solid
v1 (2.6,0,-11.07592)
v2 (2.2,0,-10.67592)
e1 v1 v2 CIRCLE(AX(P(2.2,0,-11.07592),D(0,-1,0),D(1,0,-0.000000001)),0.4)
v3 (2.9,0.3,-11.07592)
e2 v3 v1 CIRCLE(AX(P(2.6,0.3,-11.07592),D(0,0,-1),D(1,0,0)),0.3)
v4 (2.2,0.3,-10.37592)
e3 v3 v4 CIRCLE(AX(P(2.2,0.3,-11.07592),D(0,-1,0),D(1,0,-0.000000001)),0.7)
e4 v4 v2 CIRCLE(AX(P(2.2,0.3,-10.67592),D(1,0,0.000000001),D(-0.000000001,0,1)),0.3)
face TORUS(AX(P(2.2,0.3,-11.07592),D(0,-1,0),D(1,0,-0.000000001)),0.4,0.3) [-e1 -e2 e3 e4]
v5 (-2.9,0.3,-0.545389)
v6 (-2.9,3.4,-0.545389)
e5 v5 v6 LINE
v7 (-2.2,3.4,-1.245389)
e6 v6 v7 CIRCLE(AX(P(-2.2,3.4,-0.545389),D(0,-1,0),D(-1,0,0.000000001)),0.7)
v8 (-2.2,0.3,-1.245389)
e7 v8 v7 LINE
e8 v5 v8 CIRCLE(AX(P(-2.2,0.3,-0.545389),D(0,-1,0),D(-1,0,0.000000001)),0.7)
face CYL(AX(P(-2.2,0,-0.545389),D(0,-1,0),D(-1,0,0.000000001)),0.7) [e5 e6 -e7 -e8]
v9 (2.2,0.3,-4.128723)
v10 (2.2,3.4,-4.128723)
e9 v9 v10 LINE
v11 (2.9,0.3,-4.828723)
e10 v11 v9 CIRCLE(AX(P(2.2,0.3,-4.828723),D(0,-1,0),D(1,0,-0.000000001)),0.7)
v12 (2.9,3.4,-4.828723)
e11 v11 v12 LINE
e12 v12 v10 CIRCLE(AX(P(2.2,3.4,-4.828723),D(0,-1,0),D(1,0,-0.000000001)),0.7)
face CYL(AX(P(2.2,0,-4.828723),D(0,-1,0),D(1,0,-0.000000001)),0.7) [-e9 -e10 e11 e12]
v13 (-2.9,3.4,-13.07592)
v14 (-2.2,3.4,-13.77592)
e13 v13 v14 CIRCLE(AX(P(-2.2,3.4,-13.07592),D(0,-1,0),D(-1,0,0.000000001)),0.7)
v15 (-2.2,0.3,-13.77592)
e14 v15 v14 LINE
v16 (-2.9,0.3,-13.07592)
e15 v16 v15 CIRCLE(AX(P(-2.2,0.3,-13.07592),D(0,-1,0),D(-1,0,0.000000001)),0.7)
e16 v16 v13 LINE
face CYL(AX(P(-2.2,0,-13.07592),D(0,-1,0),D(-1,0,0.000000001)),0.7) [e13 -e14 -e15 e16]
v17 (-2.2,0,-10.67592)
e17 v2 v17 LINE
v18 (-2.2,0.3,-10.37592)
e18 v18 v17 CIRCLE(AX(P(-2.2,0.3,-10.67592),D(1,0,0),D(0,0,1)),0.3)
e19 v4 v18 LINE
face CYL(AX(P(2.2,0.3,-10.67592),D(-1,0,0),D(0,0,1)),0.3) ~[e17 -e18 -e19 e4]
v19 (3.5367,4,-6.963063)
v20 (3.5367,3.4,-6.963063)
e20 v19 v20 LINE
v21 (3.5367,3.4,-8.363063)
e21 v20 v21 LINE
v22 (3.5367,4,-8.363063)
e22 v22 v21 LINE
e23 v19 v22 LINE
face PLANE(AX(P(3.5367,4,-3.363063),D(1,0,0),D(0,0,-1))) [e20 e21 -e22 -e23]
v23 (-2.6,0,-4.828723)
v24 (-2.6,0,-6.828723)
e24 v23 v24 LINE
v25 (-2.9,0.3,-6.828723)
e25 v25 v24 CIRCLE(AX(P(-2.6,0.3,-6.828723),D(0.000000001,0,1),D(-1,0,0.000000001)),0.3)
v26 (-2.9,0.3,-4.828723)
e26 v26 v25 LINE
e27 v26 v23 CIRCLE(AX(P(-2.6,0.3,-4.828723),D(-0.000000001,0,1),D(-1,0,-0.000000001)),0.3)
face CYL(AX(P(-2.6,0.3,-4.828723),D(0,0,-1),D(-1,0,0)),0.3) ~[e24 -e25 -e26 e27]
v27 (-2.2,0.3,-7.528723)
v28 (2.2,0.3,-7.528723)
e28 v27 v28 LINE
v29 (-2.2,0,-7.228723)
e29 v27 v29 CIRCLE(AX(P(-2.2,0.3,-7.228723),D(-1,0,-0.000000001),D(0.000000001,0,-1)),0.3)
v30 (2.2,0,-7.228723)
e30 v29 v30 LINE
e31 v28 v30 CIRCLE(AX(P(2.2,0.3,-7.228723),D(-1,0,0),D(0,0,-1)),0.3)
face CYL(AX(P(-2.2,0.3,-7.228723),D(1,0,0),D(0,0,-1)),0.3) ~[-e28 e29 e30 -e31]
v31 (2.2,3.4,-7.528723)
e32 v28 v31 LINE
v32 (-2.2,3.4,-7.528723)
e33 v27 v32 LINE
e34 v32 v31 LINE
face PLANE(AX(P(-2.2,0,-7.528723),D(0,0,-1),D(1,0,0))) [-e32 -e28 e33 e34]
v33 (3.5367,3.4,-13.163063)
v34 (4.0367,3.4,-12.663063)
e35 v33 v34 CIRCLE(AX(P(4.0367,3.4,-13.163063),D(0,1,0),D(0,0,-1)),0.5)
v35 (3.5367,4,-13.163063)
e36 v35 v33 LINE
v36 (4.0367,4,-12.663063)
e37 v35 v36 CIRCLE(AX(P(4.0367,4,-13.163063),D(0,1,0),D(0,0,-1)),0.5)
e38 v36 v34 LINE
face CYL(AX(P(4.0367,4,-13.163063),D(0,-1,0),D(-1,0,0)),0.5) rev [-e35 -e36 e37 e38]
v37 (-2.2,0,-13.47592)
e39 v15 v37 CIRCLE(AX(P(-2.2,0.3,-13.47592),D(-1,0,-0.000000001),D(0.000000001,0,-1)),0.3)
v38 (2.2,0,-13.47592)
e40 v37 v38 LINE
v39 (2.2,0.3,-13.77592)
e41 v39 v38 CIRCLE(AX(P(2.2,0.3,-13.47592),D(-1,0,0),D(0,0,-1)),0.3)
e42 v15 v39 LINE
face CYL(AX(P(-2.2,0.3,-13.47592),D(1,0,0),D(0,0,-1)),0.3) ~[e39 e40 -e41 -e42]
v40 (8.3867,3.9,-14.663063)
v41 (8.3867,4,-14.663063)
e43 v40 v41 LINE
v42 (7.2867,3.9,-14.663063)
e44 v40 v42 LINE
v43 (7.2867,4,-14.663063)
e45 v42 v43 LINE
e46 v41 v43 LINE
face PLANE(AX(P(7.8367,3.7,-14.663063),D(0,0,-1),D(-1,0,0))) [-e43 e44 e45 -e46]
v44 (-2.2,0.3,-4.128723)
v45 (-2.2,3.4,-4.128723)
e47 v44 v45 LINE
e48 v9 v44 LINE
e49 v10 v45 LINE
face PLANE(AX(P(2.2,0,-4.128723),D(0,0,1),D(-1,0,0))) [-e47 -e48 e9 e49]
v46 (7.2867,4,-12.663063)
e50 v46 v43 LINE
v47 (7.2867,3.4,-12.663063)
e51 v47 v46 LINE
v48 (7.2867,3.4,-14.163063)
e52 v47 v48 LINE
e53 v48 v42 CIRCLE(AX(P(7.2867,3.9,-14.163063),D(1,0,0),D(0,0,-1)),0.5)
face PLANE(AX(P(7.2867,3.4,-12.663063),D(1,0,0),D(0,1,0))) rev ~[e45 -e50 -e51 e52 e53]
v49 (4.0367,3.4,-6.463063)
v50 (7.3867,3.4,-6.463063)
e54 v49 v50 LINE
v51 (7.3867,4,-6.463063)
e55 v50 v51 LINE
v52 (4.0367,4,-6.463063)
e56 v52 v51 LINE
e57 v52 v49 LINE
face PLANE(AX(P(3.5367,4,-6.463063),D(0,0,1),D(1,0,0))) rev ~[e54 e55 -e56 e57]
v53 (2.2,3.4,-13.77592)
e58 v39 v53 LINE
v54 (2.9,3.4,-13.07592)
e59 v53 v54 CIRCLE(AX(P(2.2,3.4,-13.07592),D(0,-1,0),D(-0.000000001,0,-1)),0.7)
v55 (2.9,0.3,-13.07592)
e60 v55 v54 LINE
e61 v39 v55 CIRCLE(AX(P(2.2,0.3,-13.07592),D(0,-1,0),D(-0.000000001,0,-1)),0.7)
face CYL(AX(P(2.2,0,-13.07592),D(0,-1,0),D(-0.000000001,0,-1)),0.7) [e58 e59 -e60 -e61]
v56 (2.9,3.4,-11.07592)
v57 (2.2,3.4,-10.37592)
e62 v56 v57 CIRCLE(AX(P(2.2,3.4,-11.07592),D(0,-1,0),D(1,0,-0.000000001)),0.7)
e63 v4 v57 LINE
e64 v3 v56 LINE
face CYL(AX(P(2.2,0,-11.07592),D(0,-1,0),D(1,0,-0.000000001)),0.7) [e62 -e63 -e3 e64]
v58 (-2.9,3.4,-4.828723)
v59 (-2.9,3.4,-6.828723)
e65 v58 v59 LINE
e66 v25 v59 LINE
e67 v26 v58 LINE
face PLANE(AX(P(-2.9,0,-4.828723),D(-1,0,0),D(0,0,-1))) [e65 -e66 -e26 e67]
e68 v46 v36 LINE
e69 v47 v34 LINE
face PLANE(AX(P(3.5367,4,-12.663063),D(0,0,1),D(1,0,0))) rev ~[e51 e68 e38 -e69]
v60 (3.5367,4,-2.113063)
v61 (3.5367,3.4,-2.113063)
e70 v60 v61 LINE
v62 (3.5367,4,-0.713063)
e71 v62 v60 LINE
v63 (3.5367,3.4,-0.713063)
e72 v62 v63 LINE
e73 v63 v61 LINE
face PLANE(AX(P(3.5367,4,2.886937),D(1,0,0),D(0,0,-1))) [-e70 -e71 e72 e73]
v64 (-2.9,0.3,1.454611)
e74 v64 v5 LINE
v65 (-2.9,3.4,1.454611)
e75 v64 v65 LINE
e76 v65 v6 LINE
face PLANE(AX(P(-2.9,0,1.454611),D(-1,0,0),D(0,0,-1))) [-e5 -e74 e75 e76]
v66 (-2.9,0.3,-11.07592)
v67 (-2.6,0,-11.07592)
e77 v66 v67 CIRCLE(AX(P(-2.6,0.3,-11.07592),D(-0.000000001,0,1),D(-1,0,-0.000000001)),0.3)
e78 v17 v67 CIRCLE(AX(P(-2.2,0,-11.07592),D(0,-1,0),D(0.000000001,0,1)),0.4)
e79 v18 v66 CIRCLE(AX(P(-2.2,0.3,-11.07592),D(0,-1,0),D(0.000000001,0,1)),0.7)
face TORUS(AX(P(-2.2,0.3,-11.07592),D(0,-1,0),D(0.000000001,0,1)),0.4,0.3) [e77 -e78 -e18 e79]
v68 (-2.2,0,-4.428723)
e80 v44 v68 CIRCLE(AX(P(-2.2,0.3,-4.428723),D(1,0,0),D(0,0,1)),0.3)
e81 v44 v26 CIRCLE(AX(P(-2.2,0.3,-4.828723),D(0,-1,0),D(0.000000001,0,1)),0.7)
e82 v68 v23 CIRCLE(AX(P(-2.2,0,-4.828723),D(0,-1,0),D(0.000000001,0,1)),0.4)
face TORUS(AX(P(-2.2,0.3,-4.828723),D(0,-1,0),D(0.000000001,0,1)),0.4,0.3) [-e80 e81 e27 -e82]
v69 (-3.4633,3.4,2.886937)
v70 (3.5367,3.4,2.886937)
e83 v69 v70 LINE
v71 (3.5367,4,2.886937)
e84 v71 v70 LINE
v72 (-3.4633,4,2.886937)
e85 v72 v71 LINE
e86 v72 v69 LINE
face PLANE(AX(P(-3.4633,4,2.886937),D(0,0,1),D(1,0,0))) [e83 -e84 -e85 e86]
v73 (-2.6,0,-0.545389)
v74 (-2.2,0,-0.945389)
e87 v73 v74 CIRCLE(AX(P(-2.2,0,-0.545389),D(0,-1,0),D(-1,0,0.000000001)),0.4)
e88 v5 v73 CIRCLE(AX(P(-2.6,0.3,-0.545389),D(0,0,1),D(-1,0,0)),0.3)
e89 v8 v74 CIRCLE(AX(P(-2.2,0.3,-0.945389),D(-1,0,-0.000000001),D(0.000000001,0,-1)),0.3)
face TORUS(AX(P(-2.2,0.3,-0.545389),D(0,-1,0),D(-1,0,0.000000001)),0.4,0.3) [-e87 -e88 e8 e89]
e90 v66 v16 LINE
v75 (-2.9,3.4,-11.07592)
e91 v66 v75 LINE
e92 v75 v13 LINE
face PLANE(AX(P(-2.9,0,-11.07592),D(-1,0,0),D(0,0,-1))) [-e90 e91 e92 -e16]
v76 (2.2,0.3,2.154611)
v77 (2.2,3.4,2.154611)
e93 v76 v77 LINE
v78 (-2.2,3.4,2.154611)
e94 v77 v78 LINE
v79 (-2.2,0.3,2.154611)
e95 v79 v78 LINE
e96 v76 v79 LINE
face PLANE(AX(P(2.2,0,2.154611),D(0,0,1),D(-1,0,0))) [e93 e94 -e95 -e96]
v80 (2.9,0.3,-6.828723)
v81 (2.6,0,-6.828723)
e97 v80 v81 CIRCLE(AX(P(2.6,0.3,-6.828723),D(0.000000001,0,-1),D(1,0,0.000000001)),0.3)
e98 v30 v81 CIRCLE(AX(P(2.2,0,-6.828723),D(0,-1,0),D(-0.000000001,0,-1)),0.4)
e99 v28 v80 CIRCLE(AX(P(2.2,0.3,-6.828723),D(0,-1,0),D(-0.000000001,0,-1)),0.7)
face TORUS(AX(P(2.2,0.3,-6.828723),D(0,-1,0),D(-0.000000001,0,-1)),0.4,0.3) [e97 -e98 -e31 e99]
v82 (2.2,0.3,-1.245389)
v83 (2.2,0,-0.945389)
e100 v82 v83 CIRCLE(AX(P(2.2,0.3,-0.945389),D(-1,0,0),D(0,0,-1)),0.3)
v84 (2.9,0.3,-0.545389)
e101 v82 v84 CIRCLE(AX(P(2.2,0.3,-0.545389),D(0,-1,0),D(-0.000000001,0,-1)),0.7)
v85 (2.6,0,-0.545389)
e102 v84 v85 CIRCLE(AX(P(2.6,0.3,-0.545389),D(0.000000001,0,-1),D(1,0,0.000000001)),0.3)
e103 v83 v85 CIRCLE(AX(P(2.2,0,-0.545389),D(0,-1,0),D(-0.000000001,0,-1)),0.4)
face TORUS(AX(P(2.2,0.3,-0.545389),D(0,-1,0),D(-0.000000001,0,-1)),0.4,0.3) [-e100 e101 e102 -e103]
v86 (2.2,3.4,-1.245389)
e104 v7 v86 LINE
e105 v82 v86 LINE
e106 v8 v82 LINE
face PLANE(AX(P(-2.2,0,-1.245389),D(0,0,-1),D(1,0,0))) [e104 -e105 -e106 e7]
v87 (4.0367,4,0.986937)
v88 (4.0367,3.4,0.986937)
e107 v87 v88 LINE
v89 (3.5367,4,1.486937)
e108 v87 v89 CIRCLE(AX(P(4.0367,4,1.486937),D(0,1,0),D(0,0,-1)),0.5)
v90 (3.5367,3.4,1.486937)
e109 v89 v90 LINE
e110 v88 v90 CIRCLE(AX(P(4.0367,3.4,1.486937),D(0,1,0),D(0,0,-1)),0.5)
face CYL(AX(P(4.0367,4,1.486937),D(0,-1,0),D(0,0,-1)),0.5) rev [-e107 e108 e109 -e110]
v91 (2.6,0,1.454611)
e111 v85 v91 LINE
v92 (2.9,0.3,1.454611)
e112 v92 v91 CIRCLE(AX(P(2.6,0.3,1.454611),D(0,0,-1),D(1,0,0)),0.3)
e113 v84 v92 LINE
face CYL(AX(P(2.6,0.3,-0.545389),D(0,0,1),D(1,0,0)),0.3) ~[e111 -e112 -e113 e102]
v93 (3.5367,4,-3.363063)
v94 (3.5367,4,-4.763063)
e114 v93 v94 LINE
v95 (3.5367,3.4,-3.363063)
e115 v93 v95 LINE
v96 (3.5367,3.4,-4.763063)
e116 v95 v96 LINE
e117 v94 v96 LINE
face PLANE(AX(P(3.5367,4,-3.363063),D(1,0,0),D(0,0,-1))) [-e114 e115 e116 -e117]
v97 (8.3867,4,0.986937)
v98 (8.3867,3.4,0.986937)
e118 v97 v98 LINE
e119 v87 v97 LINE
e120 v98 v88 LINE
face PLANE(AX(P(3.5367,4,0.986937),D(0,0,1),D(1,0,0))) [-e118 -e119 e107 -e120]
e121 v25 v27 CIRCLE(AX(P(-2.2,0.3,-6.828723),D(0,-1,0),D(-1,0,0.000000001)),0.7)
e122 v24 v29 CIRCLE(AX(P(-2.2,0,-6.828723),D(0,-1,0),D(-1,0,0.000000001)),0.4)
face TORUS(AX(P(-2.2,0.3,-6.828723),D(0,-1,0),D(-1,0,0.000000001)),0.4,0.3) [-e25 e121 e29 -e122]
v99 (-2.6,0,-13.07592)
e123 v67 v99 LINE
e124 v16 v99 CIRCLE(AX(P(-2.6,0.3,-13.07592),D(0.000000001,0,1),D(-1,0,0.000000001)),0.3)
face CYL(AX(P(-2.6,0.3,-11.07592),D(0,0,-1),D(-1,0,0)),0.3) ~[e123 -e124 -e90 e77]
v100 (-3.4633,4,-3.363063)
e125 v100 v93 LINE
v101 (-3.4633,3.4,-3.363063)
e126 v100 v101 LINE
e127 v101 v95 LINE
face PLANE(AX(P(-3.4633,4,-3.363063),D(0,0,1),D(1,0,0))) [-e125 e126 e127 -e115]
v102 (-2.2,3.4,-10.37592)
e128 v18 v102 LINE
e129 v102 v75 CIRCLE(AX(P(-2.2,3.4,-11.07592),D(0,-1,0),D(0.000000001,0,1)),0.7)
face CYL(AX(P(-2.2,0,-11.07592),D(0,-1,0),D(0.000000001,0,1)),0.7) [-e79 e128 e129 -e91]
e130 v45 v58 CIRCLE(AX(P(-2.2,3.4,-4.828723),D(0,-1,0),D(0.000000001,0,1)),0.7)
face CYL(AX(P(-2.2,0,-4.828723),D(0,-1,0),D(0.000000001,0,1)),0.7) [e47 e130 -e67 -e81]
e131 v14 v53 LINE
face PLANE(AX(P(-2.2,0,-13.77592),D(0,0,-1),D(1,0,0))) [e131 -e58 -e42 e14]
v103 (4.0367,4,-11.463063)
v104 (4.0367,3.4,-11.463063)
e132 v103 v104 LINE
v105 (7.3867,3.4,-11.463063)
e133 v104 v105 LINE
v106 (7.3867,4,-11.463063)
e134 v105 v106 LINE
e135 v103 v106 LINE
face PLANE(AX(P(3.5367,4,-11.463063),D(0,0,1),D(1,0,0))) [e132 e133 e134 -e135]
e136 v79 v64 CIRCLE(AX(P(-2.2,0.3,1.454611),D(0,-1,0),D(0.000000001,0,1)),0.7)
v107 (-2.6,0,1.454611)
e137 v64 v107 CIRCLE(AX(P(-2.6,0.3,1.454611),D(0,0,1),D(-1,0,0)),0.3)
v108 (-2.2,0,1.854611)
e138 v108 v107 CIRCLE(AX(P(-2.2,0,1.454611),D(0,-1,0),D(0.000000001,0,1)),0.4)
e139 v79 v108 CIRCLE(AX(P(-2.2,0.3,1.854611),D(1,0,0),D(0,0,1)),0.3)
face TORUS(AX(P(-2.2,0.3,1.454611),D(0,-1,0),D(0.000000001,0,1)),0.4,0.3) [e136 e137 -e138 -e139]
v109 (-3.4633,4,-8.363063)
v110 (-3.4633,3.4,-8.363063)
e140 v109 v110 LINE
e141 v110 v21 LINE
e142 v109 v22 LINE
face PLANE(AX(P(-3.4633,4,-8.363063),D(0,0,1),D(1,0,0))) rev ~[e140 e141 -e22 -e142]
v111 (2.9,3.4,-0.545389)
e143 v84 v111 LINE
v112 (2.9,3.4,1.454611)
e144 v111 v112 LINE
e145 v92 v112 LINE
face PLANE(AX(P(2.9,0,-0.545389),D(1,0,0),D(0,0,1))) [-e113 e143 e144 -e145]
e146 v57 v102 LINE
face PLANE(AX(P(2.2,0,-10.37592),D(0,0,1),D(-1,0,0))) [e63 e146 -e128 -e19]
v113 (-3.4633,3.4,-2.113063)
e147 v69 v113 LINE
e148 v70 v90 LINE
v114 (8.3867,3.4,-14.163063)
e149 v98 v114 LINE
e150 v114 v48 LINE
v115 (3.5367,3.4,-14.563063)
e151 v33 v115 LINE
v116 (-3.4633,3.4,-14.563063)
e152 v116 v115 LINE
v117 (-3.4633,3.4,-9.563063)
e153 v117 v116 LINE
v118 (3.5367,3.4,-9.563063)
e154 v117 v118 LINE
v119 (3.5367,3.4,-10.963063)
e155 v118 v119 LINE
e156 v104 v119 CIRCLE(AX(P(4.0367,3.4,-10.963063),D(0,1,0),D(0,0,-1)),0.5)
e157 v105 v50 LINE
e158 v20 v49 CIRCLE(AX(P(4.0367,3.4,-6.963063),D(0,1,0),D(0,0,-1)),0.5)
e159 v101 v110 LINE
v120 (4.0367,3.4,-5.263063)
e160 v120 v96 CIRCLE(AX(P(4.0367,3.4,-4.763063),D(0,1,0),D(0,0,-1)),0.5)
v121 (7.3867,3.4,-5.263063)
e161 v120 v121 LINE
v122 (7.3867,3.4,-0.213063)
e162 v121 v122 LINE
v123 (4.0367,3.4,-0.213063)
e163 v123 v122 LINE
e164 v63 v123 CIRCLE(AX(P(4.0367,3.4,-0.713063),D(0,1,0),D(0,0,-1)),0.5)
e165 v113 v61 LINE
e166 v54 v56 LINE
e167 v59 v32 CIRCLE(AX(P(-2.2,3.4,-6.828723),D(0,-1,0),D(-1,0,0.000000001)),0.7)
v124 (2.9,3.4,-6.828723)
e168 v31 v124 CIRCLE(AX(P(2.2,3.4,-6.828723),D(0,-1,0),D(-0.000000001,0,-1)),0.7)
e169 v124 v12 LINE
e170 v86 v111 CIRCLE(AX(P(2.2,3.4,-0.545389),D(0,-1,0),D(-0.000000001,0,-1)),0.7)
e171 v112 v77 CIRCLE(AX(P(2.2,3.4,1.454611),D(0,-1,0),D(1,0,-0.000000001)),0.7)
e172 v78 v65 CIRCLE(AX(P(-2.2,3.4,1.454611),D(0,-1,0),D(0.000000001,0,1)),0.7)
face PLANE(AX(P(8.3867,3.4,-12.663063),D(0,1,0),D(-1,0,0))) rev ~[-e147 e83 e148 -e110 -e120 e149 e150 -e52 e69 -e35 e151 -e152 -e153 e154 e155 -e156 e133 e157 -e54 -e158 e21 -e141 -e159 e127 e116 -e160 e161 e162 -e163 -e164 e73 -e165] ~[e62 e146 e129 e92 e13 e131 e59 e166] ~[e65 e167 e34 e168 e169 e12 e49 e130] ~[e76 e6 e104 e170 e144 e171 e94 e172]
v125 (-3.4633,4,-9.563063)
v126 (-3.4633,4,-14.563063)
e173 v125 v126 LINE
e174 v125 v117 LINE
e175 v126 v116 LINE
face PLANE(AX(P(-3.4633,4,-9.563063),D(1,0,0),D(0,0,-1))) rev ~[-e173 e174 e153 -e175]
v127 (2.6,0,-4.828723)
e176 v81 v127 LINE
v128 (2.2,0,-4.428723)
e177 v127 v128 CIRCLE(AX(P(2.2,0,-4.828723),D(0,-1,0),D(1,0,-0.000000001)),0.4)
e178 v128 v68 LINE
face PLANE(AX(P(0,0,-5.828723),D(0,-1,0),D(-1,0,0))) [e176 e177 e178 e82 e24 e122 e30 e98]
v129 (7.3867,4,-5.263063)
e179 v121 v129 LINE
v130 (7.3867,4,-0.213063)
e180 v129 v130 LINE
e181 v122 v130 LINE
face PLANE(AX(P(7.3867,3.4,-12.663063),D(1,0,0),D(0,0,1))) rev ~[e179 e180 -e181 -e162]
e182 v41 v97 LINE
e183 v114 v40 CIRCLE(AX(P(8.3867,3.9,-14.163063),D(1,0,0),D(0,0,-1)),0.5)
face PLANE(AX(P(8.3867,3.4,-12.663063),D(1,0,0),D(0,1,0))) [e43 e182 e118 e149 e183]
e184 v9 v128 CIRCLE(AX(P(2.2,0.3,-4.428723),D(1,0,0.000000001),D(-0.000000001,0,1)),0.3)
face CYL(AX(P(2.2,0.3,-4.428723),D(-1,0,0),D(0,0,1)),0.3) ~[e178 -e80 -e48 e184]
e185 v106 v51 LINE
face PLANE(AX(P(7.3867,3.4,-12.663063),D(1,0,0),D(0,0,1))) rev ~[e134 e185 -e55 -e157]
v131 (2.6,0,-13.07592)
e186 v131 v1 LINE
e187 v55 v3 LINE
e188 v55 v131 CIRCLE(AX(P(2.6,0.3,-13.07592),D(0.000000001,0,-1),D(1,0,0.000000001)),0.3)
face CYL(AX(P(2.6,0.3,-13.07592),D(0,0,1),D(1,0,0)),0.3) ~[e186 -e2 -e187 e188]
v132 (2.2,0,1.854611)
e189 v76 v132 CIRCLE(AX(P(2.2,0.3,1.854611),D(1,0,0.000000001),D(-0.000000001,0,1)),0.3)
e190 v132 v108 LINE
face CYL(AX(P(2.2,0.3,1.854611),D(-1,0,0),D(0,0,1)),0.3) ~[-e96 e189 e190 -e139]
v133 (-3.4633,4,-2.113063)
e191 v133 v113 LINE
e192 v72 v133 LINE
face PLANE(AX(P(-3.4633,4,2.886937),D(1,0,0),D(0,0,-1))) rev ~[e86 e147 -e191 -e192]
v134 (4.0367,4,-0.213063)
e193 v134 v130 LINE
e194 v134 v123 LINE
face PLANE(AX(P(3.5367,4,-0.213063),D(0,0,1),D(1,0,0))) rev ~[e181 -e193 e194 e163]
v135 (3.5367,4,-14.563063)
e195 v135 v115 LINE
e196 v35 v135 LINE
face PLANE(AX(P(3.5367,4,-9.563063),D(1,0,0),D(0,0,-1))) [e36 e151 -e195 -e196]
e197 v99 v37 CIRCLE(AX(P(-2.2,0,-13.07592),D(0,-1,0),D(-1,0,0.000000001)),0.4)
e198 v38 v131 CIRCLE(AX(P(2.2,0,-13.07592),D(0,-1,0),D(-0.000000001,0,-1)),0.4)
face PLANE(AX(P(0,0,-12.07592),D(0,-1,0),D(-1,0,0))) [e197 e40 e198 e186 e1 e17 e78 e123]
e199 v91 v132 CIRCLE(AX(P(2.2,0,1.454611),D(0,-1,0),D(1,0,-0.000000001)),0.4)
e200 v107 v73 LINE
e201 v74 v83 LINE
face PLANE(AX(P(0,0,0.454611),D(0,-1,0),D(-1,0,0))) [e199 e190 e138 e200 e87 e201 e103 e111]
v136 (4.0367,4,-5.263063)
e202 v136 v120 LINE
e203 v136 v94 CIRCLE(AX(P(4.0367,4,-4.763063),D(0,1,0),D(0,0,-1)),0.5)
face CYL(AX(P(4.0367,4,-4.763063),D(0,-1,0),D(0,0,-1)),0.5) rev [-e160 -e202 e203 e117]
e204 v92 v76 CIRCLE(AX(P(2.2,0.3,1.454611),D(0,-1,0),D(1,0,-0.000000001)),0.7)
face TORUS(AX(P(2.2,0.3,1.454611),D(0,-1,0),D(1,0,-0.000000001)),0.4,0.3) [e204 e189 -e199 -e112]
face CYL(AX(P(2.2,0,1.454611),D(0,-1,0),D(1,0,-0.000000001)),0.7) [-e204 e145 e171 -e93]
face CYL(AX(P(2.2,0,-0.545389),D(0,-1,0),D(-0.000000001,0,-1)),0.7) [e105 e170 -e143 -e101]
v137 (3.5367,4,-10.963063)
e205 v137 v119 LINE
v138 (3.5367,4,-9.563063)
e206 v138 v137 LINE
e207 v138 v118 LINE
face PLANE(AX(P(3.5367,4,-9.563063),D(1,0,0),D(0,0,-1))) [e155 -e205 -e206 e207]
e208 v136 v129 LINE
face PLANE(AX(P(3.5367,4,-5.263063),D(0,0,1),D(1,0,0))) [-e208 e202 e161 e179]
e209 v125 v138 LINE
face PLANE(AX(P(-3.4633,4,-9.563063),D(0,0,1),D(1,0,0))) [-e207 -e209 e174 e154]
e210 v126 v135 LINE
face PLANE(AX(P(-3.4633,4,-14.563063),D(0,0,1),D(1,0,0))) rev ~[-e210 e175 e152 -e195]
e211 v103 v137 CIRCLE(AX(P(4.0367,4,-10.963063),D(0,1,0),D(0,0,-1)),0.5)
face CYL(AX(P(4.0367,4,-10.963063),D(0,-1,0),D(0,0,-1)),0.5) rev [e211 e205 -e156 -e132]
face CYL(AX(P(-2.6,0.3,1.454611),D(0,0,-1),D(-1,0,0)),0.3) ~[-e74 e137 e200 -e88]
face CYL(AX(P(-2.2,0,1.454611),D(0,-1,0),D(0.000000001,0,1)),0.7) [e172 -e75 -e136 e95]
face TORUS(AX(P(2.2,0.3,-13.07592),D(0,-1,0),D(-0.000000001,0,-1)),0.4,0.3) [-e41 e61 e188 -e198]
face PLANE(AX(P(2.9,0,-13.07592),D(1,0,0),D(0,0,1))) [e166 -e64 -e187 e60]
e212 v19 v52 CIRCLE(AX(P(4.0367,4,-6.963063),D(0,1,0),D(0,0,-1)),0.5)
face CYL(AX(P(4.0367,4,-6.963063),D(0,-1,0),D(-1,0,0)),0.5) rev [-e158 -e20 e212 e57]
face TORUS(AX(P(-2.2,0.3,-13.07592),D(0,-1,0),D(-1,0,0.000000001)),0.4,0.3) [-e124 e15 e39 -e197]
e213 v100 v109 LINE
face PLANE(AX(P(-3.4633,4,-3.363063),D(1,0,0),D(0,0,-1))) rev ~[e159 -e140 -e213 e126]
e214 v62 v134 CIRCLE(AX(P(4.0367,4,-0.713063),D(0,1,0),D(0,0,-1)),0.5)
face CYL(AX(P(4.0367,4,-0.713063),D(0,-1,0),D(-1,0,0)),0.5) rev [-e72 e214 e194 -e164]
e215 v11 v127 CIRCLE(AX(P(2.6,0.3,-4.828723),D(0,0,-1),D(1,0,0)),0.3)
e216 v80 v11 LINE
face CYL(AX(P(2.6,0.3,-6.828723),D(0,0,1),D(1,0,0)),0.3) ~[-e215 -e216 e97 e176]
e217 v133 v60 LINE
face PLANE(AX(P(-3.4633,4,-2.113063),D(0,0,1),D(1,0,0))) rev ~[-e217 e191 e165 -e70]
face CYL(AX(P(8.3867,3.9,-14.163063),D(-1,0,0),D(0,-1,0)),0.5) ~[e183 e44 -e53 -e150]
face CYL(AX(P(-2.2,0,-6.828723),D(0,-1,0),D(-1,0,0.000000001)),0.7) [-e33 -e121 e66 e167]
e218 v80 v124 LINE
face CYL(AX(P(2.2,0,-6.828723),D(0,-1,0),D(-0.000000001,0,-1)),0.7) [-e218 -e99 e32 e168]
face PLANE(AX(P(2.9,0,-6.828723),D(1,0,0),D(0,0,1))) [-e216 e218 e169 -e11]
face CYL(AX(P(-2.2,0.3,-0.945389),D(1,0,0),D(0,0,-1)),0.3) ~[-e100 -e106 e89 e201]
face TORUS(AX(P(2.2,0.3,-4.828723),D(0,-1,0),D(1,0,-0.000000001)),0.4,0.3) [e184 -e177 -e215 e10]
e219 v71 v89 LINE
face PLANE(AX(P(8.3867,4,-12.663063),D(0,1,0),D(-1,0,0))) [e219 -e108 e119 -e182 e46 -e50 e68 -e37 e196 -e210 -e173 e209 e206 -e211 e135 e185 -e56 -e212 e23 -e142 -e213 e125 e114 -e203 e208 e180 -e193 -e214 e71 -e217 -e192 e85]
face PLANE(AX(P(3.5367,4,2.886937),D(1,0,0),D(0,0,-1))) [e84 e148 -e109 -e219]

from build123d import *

# Parameters (mm, degrees)
EXTRUDE_1_DEPTH   = 4
EXTRUDE_1_2_DEPTH = 4
EXTRUDE_1_3_DEPTH = 4
SKETCH_2_W        = 7
SKETCH_2_H        = 5
EXTRUDE_2_DEPTH   = 0.6
SKETCH_3_W        = 4.85
SKETCH_3_H        = 1.2
EXTRUDE_3_DEPTH   = 0.6
SKETCH_4_W        = 1
SKETCH_4_H        = 13.65
EXTRUDE_4_DEPTH   = 0.6
FILLET_1_R        = 0.5
FILLET_2_R        = 0.3
SKETCH_5_W        = 1.1
SKETCH_5_H        = 0.6
EXTRUDE_5_DEPTH   = 2
FILLET_3_R        = 0.5


with BuildPart() as part:
    # 草图1 → 凸台-拉伸1 (new body)
    with BuildSketch(Plane(origin=(0, 0, 0), x_dir=(1, 0, 0), z_dir=(0, 1, 0))):
        with BuildLine():
            Line((-2.2, 1.245389122), (2.2, 1.245389122))
            ThreePointArc((2.2, 1.245389122), (2.694974747, 1.040363869), (2.9, 0.545389122))
            Line((2.9, 0.545389122), (2.9, -1.454610878))
            ThreePointArc((2.9, -1.454610878), (2.694974747, -1.949585625), (2.2, -2.154610878))
            Line((2.2, -2.154610878), (-2.2, -2.154610878))
            ThreePointArc((-2.2, -2.154610878), (-2.694974747, -1.949585625), (-2.9, -1.454610878))
            Line((-2.9, -1.454610878), (-2.9, 0.545389122))
            ThreePointArc((-2.9, 0.545389122), (-2.694974747, 1.040363869), (-2.2, 1.245389122))
        make_face()
    extrude(amount=EXTRUDE_1_DEPTH)



with BuildPart() as body_2:
    # 草图1 → Extrude 1 2 (new body)
    with BuildSketch(Plane(origin=(0, 0, 0), x_dir=(1, 0, 0), z_dir=(0, 1, 0))):
        with BuildLine():
            Line((-2.2, 7.528722779), (2.2, 7.528722779))
            ThreePointArc((2.2, 7.528722779), (2.694974747, 7.323697526), (2.9, 6.828722779))
            Line((2.9, 6.828722779), (2.9, 4.828722779))
            ThreePointArc((2.9, 4.828722779), (2.694974747, 4.333748032), (2.2, 4.128722779))
            Line((2.2, 4.128722779), (-2.2, 4.128722779))
            ThreePointArc((-2.2, 4.128722779), (-2.694974747, 4.333748032), (-2.9, 4.828722779))
            Line((-2.9, 4.828722779), (-2.9, 6.828722779))
            ThreePointArc((-2.9, 6.828722779), (-2.694974747, 7.323697526), (-2.2, 7.528722779))
        make_face()
    extrude(amount=EXTRUDE_1_2_DEPTH)


with BuildPart() as body_3:
    # 草图1 → Extrude 1 3 (new body)
    with BuildSketch(Plane(origin=(0, 0, 0), x_dir=(1, 0, 0), z_dir=(0, 1, 0))):
        with BuildLine():
            Line((-2.2, 13.775919566), (2.2, 13.775919566))
            ThreePointArc((2.2, 13.775919566), (2.694974747, 13.570894313), (2.9, 13.075919566))
            Line((2.9, 13.075919566), (2.9, 11.075919566))
            ThreePointArc((2.9, 11.075919566), (2.694974747, 10.580944819), (2.2, 10.375919566))
            Line((2.2, 10.375919566), (-2.2, 10.375919566))
            ThreePointArc((-2.2, 10.375919566), (-2.694974747, 10.580944819), (-2.9, 11.075919566))
            Line((-2.9, 11.075919566), (-2.9, 13.075919566))
            ThreePointArc((-2.9, 13.075919566), (-2.694974747, 13.570894313), (-2.2, 13.775919566))
        make_face()
    extrude(amount=EXTRUDE_1_3_DEPTH)


with BuildPart() as part_1:
    add(part.part)

    add(body_2.part)  # 凸台-拉伸2 merges body 2

    add(body_3.part)  # 凸台-拉伸2 merges body 3
    # 草图2 → 凸台-拉伸2 (add)
    with BuildSketch(Plane(origin=(0, 4, 0), x_dir=(1, 0, 0), z_dir=(0, 1, 0))):
        with Locations((0.036699987, 12.063062551)):
            Rectangle(SKETCH_2_W, SKETCH_2_H)
        with Locations((0.036699987, 5.863062551)):
            Rectangle(SKETCH_2_W, SKETCH_2_H)
        with Locations((0.036699987, -0.386937449)):
            Rectangle(SKETCH_2_W, SKETCH_2_H)
    extrude(amount=-EXTRUDE_2_DEPTH)

    # 草图3 → 凸台-拉伸3 (add)
    with BuildSketch(Plane(origin=(0, 4, 0), x_dir=(1, 0, 0), z_dir=(0, 1, 0))):
        with Locations((5.961699987, 12.063062551)):
            Rectangle(SKETCH_3_W, SKETCH_3_H)
        with Locations((5.961699987, 5.863062551)):
            Rectangle(SKETCH_3_W, SKETCH_3_H)
        with Locations((5.961699987, -0.386937449)):
            Rectangle(SKETCH_3_W, SKETCH_3_H)
    extrude(amount=-EXTRUDE_3_DEPTH)

    # 草图4 → 凸台-拉伸4 (add)
    with BuildSketch(Plane.XZ.offset(-3.4)):
        with Locations((7.886699987, -5.838062551)):
            Rectangle(SKETCH_4_W, SKETCH_4_H)
    extrude(amount=-EXTRUDE_4_DEPTH)

    # 圆角1
    fillet_1_edges = [part_1.edges().sort_by_distance(p)[0] for p in [
        (3.536699987, 3.7, -11.463062551),
        (3.536699987, 3.7, -12.663062551),
        (3.536699987, 3.7, 0.986937449),
        (3.536699987, 3.7, -0.213062551),
        (3.536699987, 3.7, -5.263062551),
        (3.536699987, 3.7, -6.463062551),
    ]]
    fillet(fillet_1_edges, radius=FILLET_1_R)

    # 圆角2
    fillet_2_edges = [part_1.edges().sort_by_distance(p)[0] for p in [
        (-2.9, 0, 0.454610878),
        (-2.694974747, 0, -1.040363869),
        (-2.694974747, 0, -13.570894313),
        (-2.9, 0, -12.075919566),
        (-2.694974747, 0, -10.580944819),
        (0, 0, -10.375919566),
        (2.694974747, 0, -10.580944819),
        (2.9, 0, -12.075919566),
        (2.694974747, 0, -13.570894313),
        (0, 0, -13.775919566),
        (0, 0, -1.245389122),
        (2.694974747, 0, -1.040363869),
        (2.9, 0, 0.454610878),
        (2.694974747, 0, 1.949585625),
        (-2.694974747, 0, -7.323697526),
        (-2.9, 0, -5.828722779),
        (-2.694974747, 0, -4.333748032),
        (0, 0, -4.128722779),
        (2.694974747, 0, -4.333748032),
        (2.9, 0, -5.828722779),
        (0, 0, 2.154610878),
        (2.694974747, 0, -7.323697526),
        (0, 0, -7.528722779),
        (-2.694974747, 0, 1.949585625),
    ]]
    fillet(fillet_2_edges, radius=FILLET_2_R)

    # 草图5 → 凸台-拉伸5 (add)
    with BuildSketch(Plane(origin=(0, 0, -12.663062551), x_dir=(-1, 0, 0), z_dir=(0, 0, -1))):
        with Locations((-7.836699987, 3.7)):
            Rectangle(SKETCH_5_W, SKETCH_5_H)
    extrude(amount=EXTRUDE_5_DEPTH)

    # 圆角3
    fillet_3_edges = [part_1.edges().sort_by_distance(p)[0] for p in [
        (7.836699987, 3.4, -14.663062551),
    ]]
    fillet(fillet_3_edges, radius=FILLET_3_R)


solid = part_1.part
